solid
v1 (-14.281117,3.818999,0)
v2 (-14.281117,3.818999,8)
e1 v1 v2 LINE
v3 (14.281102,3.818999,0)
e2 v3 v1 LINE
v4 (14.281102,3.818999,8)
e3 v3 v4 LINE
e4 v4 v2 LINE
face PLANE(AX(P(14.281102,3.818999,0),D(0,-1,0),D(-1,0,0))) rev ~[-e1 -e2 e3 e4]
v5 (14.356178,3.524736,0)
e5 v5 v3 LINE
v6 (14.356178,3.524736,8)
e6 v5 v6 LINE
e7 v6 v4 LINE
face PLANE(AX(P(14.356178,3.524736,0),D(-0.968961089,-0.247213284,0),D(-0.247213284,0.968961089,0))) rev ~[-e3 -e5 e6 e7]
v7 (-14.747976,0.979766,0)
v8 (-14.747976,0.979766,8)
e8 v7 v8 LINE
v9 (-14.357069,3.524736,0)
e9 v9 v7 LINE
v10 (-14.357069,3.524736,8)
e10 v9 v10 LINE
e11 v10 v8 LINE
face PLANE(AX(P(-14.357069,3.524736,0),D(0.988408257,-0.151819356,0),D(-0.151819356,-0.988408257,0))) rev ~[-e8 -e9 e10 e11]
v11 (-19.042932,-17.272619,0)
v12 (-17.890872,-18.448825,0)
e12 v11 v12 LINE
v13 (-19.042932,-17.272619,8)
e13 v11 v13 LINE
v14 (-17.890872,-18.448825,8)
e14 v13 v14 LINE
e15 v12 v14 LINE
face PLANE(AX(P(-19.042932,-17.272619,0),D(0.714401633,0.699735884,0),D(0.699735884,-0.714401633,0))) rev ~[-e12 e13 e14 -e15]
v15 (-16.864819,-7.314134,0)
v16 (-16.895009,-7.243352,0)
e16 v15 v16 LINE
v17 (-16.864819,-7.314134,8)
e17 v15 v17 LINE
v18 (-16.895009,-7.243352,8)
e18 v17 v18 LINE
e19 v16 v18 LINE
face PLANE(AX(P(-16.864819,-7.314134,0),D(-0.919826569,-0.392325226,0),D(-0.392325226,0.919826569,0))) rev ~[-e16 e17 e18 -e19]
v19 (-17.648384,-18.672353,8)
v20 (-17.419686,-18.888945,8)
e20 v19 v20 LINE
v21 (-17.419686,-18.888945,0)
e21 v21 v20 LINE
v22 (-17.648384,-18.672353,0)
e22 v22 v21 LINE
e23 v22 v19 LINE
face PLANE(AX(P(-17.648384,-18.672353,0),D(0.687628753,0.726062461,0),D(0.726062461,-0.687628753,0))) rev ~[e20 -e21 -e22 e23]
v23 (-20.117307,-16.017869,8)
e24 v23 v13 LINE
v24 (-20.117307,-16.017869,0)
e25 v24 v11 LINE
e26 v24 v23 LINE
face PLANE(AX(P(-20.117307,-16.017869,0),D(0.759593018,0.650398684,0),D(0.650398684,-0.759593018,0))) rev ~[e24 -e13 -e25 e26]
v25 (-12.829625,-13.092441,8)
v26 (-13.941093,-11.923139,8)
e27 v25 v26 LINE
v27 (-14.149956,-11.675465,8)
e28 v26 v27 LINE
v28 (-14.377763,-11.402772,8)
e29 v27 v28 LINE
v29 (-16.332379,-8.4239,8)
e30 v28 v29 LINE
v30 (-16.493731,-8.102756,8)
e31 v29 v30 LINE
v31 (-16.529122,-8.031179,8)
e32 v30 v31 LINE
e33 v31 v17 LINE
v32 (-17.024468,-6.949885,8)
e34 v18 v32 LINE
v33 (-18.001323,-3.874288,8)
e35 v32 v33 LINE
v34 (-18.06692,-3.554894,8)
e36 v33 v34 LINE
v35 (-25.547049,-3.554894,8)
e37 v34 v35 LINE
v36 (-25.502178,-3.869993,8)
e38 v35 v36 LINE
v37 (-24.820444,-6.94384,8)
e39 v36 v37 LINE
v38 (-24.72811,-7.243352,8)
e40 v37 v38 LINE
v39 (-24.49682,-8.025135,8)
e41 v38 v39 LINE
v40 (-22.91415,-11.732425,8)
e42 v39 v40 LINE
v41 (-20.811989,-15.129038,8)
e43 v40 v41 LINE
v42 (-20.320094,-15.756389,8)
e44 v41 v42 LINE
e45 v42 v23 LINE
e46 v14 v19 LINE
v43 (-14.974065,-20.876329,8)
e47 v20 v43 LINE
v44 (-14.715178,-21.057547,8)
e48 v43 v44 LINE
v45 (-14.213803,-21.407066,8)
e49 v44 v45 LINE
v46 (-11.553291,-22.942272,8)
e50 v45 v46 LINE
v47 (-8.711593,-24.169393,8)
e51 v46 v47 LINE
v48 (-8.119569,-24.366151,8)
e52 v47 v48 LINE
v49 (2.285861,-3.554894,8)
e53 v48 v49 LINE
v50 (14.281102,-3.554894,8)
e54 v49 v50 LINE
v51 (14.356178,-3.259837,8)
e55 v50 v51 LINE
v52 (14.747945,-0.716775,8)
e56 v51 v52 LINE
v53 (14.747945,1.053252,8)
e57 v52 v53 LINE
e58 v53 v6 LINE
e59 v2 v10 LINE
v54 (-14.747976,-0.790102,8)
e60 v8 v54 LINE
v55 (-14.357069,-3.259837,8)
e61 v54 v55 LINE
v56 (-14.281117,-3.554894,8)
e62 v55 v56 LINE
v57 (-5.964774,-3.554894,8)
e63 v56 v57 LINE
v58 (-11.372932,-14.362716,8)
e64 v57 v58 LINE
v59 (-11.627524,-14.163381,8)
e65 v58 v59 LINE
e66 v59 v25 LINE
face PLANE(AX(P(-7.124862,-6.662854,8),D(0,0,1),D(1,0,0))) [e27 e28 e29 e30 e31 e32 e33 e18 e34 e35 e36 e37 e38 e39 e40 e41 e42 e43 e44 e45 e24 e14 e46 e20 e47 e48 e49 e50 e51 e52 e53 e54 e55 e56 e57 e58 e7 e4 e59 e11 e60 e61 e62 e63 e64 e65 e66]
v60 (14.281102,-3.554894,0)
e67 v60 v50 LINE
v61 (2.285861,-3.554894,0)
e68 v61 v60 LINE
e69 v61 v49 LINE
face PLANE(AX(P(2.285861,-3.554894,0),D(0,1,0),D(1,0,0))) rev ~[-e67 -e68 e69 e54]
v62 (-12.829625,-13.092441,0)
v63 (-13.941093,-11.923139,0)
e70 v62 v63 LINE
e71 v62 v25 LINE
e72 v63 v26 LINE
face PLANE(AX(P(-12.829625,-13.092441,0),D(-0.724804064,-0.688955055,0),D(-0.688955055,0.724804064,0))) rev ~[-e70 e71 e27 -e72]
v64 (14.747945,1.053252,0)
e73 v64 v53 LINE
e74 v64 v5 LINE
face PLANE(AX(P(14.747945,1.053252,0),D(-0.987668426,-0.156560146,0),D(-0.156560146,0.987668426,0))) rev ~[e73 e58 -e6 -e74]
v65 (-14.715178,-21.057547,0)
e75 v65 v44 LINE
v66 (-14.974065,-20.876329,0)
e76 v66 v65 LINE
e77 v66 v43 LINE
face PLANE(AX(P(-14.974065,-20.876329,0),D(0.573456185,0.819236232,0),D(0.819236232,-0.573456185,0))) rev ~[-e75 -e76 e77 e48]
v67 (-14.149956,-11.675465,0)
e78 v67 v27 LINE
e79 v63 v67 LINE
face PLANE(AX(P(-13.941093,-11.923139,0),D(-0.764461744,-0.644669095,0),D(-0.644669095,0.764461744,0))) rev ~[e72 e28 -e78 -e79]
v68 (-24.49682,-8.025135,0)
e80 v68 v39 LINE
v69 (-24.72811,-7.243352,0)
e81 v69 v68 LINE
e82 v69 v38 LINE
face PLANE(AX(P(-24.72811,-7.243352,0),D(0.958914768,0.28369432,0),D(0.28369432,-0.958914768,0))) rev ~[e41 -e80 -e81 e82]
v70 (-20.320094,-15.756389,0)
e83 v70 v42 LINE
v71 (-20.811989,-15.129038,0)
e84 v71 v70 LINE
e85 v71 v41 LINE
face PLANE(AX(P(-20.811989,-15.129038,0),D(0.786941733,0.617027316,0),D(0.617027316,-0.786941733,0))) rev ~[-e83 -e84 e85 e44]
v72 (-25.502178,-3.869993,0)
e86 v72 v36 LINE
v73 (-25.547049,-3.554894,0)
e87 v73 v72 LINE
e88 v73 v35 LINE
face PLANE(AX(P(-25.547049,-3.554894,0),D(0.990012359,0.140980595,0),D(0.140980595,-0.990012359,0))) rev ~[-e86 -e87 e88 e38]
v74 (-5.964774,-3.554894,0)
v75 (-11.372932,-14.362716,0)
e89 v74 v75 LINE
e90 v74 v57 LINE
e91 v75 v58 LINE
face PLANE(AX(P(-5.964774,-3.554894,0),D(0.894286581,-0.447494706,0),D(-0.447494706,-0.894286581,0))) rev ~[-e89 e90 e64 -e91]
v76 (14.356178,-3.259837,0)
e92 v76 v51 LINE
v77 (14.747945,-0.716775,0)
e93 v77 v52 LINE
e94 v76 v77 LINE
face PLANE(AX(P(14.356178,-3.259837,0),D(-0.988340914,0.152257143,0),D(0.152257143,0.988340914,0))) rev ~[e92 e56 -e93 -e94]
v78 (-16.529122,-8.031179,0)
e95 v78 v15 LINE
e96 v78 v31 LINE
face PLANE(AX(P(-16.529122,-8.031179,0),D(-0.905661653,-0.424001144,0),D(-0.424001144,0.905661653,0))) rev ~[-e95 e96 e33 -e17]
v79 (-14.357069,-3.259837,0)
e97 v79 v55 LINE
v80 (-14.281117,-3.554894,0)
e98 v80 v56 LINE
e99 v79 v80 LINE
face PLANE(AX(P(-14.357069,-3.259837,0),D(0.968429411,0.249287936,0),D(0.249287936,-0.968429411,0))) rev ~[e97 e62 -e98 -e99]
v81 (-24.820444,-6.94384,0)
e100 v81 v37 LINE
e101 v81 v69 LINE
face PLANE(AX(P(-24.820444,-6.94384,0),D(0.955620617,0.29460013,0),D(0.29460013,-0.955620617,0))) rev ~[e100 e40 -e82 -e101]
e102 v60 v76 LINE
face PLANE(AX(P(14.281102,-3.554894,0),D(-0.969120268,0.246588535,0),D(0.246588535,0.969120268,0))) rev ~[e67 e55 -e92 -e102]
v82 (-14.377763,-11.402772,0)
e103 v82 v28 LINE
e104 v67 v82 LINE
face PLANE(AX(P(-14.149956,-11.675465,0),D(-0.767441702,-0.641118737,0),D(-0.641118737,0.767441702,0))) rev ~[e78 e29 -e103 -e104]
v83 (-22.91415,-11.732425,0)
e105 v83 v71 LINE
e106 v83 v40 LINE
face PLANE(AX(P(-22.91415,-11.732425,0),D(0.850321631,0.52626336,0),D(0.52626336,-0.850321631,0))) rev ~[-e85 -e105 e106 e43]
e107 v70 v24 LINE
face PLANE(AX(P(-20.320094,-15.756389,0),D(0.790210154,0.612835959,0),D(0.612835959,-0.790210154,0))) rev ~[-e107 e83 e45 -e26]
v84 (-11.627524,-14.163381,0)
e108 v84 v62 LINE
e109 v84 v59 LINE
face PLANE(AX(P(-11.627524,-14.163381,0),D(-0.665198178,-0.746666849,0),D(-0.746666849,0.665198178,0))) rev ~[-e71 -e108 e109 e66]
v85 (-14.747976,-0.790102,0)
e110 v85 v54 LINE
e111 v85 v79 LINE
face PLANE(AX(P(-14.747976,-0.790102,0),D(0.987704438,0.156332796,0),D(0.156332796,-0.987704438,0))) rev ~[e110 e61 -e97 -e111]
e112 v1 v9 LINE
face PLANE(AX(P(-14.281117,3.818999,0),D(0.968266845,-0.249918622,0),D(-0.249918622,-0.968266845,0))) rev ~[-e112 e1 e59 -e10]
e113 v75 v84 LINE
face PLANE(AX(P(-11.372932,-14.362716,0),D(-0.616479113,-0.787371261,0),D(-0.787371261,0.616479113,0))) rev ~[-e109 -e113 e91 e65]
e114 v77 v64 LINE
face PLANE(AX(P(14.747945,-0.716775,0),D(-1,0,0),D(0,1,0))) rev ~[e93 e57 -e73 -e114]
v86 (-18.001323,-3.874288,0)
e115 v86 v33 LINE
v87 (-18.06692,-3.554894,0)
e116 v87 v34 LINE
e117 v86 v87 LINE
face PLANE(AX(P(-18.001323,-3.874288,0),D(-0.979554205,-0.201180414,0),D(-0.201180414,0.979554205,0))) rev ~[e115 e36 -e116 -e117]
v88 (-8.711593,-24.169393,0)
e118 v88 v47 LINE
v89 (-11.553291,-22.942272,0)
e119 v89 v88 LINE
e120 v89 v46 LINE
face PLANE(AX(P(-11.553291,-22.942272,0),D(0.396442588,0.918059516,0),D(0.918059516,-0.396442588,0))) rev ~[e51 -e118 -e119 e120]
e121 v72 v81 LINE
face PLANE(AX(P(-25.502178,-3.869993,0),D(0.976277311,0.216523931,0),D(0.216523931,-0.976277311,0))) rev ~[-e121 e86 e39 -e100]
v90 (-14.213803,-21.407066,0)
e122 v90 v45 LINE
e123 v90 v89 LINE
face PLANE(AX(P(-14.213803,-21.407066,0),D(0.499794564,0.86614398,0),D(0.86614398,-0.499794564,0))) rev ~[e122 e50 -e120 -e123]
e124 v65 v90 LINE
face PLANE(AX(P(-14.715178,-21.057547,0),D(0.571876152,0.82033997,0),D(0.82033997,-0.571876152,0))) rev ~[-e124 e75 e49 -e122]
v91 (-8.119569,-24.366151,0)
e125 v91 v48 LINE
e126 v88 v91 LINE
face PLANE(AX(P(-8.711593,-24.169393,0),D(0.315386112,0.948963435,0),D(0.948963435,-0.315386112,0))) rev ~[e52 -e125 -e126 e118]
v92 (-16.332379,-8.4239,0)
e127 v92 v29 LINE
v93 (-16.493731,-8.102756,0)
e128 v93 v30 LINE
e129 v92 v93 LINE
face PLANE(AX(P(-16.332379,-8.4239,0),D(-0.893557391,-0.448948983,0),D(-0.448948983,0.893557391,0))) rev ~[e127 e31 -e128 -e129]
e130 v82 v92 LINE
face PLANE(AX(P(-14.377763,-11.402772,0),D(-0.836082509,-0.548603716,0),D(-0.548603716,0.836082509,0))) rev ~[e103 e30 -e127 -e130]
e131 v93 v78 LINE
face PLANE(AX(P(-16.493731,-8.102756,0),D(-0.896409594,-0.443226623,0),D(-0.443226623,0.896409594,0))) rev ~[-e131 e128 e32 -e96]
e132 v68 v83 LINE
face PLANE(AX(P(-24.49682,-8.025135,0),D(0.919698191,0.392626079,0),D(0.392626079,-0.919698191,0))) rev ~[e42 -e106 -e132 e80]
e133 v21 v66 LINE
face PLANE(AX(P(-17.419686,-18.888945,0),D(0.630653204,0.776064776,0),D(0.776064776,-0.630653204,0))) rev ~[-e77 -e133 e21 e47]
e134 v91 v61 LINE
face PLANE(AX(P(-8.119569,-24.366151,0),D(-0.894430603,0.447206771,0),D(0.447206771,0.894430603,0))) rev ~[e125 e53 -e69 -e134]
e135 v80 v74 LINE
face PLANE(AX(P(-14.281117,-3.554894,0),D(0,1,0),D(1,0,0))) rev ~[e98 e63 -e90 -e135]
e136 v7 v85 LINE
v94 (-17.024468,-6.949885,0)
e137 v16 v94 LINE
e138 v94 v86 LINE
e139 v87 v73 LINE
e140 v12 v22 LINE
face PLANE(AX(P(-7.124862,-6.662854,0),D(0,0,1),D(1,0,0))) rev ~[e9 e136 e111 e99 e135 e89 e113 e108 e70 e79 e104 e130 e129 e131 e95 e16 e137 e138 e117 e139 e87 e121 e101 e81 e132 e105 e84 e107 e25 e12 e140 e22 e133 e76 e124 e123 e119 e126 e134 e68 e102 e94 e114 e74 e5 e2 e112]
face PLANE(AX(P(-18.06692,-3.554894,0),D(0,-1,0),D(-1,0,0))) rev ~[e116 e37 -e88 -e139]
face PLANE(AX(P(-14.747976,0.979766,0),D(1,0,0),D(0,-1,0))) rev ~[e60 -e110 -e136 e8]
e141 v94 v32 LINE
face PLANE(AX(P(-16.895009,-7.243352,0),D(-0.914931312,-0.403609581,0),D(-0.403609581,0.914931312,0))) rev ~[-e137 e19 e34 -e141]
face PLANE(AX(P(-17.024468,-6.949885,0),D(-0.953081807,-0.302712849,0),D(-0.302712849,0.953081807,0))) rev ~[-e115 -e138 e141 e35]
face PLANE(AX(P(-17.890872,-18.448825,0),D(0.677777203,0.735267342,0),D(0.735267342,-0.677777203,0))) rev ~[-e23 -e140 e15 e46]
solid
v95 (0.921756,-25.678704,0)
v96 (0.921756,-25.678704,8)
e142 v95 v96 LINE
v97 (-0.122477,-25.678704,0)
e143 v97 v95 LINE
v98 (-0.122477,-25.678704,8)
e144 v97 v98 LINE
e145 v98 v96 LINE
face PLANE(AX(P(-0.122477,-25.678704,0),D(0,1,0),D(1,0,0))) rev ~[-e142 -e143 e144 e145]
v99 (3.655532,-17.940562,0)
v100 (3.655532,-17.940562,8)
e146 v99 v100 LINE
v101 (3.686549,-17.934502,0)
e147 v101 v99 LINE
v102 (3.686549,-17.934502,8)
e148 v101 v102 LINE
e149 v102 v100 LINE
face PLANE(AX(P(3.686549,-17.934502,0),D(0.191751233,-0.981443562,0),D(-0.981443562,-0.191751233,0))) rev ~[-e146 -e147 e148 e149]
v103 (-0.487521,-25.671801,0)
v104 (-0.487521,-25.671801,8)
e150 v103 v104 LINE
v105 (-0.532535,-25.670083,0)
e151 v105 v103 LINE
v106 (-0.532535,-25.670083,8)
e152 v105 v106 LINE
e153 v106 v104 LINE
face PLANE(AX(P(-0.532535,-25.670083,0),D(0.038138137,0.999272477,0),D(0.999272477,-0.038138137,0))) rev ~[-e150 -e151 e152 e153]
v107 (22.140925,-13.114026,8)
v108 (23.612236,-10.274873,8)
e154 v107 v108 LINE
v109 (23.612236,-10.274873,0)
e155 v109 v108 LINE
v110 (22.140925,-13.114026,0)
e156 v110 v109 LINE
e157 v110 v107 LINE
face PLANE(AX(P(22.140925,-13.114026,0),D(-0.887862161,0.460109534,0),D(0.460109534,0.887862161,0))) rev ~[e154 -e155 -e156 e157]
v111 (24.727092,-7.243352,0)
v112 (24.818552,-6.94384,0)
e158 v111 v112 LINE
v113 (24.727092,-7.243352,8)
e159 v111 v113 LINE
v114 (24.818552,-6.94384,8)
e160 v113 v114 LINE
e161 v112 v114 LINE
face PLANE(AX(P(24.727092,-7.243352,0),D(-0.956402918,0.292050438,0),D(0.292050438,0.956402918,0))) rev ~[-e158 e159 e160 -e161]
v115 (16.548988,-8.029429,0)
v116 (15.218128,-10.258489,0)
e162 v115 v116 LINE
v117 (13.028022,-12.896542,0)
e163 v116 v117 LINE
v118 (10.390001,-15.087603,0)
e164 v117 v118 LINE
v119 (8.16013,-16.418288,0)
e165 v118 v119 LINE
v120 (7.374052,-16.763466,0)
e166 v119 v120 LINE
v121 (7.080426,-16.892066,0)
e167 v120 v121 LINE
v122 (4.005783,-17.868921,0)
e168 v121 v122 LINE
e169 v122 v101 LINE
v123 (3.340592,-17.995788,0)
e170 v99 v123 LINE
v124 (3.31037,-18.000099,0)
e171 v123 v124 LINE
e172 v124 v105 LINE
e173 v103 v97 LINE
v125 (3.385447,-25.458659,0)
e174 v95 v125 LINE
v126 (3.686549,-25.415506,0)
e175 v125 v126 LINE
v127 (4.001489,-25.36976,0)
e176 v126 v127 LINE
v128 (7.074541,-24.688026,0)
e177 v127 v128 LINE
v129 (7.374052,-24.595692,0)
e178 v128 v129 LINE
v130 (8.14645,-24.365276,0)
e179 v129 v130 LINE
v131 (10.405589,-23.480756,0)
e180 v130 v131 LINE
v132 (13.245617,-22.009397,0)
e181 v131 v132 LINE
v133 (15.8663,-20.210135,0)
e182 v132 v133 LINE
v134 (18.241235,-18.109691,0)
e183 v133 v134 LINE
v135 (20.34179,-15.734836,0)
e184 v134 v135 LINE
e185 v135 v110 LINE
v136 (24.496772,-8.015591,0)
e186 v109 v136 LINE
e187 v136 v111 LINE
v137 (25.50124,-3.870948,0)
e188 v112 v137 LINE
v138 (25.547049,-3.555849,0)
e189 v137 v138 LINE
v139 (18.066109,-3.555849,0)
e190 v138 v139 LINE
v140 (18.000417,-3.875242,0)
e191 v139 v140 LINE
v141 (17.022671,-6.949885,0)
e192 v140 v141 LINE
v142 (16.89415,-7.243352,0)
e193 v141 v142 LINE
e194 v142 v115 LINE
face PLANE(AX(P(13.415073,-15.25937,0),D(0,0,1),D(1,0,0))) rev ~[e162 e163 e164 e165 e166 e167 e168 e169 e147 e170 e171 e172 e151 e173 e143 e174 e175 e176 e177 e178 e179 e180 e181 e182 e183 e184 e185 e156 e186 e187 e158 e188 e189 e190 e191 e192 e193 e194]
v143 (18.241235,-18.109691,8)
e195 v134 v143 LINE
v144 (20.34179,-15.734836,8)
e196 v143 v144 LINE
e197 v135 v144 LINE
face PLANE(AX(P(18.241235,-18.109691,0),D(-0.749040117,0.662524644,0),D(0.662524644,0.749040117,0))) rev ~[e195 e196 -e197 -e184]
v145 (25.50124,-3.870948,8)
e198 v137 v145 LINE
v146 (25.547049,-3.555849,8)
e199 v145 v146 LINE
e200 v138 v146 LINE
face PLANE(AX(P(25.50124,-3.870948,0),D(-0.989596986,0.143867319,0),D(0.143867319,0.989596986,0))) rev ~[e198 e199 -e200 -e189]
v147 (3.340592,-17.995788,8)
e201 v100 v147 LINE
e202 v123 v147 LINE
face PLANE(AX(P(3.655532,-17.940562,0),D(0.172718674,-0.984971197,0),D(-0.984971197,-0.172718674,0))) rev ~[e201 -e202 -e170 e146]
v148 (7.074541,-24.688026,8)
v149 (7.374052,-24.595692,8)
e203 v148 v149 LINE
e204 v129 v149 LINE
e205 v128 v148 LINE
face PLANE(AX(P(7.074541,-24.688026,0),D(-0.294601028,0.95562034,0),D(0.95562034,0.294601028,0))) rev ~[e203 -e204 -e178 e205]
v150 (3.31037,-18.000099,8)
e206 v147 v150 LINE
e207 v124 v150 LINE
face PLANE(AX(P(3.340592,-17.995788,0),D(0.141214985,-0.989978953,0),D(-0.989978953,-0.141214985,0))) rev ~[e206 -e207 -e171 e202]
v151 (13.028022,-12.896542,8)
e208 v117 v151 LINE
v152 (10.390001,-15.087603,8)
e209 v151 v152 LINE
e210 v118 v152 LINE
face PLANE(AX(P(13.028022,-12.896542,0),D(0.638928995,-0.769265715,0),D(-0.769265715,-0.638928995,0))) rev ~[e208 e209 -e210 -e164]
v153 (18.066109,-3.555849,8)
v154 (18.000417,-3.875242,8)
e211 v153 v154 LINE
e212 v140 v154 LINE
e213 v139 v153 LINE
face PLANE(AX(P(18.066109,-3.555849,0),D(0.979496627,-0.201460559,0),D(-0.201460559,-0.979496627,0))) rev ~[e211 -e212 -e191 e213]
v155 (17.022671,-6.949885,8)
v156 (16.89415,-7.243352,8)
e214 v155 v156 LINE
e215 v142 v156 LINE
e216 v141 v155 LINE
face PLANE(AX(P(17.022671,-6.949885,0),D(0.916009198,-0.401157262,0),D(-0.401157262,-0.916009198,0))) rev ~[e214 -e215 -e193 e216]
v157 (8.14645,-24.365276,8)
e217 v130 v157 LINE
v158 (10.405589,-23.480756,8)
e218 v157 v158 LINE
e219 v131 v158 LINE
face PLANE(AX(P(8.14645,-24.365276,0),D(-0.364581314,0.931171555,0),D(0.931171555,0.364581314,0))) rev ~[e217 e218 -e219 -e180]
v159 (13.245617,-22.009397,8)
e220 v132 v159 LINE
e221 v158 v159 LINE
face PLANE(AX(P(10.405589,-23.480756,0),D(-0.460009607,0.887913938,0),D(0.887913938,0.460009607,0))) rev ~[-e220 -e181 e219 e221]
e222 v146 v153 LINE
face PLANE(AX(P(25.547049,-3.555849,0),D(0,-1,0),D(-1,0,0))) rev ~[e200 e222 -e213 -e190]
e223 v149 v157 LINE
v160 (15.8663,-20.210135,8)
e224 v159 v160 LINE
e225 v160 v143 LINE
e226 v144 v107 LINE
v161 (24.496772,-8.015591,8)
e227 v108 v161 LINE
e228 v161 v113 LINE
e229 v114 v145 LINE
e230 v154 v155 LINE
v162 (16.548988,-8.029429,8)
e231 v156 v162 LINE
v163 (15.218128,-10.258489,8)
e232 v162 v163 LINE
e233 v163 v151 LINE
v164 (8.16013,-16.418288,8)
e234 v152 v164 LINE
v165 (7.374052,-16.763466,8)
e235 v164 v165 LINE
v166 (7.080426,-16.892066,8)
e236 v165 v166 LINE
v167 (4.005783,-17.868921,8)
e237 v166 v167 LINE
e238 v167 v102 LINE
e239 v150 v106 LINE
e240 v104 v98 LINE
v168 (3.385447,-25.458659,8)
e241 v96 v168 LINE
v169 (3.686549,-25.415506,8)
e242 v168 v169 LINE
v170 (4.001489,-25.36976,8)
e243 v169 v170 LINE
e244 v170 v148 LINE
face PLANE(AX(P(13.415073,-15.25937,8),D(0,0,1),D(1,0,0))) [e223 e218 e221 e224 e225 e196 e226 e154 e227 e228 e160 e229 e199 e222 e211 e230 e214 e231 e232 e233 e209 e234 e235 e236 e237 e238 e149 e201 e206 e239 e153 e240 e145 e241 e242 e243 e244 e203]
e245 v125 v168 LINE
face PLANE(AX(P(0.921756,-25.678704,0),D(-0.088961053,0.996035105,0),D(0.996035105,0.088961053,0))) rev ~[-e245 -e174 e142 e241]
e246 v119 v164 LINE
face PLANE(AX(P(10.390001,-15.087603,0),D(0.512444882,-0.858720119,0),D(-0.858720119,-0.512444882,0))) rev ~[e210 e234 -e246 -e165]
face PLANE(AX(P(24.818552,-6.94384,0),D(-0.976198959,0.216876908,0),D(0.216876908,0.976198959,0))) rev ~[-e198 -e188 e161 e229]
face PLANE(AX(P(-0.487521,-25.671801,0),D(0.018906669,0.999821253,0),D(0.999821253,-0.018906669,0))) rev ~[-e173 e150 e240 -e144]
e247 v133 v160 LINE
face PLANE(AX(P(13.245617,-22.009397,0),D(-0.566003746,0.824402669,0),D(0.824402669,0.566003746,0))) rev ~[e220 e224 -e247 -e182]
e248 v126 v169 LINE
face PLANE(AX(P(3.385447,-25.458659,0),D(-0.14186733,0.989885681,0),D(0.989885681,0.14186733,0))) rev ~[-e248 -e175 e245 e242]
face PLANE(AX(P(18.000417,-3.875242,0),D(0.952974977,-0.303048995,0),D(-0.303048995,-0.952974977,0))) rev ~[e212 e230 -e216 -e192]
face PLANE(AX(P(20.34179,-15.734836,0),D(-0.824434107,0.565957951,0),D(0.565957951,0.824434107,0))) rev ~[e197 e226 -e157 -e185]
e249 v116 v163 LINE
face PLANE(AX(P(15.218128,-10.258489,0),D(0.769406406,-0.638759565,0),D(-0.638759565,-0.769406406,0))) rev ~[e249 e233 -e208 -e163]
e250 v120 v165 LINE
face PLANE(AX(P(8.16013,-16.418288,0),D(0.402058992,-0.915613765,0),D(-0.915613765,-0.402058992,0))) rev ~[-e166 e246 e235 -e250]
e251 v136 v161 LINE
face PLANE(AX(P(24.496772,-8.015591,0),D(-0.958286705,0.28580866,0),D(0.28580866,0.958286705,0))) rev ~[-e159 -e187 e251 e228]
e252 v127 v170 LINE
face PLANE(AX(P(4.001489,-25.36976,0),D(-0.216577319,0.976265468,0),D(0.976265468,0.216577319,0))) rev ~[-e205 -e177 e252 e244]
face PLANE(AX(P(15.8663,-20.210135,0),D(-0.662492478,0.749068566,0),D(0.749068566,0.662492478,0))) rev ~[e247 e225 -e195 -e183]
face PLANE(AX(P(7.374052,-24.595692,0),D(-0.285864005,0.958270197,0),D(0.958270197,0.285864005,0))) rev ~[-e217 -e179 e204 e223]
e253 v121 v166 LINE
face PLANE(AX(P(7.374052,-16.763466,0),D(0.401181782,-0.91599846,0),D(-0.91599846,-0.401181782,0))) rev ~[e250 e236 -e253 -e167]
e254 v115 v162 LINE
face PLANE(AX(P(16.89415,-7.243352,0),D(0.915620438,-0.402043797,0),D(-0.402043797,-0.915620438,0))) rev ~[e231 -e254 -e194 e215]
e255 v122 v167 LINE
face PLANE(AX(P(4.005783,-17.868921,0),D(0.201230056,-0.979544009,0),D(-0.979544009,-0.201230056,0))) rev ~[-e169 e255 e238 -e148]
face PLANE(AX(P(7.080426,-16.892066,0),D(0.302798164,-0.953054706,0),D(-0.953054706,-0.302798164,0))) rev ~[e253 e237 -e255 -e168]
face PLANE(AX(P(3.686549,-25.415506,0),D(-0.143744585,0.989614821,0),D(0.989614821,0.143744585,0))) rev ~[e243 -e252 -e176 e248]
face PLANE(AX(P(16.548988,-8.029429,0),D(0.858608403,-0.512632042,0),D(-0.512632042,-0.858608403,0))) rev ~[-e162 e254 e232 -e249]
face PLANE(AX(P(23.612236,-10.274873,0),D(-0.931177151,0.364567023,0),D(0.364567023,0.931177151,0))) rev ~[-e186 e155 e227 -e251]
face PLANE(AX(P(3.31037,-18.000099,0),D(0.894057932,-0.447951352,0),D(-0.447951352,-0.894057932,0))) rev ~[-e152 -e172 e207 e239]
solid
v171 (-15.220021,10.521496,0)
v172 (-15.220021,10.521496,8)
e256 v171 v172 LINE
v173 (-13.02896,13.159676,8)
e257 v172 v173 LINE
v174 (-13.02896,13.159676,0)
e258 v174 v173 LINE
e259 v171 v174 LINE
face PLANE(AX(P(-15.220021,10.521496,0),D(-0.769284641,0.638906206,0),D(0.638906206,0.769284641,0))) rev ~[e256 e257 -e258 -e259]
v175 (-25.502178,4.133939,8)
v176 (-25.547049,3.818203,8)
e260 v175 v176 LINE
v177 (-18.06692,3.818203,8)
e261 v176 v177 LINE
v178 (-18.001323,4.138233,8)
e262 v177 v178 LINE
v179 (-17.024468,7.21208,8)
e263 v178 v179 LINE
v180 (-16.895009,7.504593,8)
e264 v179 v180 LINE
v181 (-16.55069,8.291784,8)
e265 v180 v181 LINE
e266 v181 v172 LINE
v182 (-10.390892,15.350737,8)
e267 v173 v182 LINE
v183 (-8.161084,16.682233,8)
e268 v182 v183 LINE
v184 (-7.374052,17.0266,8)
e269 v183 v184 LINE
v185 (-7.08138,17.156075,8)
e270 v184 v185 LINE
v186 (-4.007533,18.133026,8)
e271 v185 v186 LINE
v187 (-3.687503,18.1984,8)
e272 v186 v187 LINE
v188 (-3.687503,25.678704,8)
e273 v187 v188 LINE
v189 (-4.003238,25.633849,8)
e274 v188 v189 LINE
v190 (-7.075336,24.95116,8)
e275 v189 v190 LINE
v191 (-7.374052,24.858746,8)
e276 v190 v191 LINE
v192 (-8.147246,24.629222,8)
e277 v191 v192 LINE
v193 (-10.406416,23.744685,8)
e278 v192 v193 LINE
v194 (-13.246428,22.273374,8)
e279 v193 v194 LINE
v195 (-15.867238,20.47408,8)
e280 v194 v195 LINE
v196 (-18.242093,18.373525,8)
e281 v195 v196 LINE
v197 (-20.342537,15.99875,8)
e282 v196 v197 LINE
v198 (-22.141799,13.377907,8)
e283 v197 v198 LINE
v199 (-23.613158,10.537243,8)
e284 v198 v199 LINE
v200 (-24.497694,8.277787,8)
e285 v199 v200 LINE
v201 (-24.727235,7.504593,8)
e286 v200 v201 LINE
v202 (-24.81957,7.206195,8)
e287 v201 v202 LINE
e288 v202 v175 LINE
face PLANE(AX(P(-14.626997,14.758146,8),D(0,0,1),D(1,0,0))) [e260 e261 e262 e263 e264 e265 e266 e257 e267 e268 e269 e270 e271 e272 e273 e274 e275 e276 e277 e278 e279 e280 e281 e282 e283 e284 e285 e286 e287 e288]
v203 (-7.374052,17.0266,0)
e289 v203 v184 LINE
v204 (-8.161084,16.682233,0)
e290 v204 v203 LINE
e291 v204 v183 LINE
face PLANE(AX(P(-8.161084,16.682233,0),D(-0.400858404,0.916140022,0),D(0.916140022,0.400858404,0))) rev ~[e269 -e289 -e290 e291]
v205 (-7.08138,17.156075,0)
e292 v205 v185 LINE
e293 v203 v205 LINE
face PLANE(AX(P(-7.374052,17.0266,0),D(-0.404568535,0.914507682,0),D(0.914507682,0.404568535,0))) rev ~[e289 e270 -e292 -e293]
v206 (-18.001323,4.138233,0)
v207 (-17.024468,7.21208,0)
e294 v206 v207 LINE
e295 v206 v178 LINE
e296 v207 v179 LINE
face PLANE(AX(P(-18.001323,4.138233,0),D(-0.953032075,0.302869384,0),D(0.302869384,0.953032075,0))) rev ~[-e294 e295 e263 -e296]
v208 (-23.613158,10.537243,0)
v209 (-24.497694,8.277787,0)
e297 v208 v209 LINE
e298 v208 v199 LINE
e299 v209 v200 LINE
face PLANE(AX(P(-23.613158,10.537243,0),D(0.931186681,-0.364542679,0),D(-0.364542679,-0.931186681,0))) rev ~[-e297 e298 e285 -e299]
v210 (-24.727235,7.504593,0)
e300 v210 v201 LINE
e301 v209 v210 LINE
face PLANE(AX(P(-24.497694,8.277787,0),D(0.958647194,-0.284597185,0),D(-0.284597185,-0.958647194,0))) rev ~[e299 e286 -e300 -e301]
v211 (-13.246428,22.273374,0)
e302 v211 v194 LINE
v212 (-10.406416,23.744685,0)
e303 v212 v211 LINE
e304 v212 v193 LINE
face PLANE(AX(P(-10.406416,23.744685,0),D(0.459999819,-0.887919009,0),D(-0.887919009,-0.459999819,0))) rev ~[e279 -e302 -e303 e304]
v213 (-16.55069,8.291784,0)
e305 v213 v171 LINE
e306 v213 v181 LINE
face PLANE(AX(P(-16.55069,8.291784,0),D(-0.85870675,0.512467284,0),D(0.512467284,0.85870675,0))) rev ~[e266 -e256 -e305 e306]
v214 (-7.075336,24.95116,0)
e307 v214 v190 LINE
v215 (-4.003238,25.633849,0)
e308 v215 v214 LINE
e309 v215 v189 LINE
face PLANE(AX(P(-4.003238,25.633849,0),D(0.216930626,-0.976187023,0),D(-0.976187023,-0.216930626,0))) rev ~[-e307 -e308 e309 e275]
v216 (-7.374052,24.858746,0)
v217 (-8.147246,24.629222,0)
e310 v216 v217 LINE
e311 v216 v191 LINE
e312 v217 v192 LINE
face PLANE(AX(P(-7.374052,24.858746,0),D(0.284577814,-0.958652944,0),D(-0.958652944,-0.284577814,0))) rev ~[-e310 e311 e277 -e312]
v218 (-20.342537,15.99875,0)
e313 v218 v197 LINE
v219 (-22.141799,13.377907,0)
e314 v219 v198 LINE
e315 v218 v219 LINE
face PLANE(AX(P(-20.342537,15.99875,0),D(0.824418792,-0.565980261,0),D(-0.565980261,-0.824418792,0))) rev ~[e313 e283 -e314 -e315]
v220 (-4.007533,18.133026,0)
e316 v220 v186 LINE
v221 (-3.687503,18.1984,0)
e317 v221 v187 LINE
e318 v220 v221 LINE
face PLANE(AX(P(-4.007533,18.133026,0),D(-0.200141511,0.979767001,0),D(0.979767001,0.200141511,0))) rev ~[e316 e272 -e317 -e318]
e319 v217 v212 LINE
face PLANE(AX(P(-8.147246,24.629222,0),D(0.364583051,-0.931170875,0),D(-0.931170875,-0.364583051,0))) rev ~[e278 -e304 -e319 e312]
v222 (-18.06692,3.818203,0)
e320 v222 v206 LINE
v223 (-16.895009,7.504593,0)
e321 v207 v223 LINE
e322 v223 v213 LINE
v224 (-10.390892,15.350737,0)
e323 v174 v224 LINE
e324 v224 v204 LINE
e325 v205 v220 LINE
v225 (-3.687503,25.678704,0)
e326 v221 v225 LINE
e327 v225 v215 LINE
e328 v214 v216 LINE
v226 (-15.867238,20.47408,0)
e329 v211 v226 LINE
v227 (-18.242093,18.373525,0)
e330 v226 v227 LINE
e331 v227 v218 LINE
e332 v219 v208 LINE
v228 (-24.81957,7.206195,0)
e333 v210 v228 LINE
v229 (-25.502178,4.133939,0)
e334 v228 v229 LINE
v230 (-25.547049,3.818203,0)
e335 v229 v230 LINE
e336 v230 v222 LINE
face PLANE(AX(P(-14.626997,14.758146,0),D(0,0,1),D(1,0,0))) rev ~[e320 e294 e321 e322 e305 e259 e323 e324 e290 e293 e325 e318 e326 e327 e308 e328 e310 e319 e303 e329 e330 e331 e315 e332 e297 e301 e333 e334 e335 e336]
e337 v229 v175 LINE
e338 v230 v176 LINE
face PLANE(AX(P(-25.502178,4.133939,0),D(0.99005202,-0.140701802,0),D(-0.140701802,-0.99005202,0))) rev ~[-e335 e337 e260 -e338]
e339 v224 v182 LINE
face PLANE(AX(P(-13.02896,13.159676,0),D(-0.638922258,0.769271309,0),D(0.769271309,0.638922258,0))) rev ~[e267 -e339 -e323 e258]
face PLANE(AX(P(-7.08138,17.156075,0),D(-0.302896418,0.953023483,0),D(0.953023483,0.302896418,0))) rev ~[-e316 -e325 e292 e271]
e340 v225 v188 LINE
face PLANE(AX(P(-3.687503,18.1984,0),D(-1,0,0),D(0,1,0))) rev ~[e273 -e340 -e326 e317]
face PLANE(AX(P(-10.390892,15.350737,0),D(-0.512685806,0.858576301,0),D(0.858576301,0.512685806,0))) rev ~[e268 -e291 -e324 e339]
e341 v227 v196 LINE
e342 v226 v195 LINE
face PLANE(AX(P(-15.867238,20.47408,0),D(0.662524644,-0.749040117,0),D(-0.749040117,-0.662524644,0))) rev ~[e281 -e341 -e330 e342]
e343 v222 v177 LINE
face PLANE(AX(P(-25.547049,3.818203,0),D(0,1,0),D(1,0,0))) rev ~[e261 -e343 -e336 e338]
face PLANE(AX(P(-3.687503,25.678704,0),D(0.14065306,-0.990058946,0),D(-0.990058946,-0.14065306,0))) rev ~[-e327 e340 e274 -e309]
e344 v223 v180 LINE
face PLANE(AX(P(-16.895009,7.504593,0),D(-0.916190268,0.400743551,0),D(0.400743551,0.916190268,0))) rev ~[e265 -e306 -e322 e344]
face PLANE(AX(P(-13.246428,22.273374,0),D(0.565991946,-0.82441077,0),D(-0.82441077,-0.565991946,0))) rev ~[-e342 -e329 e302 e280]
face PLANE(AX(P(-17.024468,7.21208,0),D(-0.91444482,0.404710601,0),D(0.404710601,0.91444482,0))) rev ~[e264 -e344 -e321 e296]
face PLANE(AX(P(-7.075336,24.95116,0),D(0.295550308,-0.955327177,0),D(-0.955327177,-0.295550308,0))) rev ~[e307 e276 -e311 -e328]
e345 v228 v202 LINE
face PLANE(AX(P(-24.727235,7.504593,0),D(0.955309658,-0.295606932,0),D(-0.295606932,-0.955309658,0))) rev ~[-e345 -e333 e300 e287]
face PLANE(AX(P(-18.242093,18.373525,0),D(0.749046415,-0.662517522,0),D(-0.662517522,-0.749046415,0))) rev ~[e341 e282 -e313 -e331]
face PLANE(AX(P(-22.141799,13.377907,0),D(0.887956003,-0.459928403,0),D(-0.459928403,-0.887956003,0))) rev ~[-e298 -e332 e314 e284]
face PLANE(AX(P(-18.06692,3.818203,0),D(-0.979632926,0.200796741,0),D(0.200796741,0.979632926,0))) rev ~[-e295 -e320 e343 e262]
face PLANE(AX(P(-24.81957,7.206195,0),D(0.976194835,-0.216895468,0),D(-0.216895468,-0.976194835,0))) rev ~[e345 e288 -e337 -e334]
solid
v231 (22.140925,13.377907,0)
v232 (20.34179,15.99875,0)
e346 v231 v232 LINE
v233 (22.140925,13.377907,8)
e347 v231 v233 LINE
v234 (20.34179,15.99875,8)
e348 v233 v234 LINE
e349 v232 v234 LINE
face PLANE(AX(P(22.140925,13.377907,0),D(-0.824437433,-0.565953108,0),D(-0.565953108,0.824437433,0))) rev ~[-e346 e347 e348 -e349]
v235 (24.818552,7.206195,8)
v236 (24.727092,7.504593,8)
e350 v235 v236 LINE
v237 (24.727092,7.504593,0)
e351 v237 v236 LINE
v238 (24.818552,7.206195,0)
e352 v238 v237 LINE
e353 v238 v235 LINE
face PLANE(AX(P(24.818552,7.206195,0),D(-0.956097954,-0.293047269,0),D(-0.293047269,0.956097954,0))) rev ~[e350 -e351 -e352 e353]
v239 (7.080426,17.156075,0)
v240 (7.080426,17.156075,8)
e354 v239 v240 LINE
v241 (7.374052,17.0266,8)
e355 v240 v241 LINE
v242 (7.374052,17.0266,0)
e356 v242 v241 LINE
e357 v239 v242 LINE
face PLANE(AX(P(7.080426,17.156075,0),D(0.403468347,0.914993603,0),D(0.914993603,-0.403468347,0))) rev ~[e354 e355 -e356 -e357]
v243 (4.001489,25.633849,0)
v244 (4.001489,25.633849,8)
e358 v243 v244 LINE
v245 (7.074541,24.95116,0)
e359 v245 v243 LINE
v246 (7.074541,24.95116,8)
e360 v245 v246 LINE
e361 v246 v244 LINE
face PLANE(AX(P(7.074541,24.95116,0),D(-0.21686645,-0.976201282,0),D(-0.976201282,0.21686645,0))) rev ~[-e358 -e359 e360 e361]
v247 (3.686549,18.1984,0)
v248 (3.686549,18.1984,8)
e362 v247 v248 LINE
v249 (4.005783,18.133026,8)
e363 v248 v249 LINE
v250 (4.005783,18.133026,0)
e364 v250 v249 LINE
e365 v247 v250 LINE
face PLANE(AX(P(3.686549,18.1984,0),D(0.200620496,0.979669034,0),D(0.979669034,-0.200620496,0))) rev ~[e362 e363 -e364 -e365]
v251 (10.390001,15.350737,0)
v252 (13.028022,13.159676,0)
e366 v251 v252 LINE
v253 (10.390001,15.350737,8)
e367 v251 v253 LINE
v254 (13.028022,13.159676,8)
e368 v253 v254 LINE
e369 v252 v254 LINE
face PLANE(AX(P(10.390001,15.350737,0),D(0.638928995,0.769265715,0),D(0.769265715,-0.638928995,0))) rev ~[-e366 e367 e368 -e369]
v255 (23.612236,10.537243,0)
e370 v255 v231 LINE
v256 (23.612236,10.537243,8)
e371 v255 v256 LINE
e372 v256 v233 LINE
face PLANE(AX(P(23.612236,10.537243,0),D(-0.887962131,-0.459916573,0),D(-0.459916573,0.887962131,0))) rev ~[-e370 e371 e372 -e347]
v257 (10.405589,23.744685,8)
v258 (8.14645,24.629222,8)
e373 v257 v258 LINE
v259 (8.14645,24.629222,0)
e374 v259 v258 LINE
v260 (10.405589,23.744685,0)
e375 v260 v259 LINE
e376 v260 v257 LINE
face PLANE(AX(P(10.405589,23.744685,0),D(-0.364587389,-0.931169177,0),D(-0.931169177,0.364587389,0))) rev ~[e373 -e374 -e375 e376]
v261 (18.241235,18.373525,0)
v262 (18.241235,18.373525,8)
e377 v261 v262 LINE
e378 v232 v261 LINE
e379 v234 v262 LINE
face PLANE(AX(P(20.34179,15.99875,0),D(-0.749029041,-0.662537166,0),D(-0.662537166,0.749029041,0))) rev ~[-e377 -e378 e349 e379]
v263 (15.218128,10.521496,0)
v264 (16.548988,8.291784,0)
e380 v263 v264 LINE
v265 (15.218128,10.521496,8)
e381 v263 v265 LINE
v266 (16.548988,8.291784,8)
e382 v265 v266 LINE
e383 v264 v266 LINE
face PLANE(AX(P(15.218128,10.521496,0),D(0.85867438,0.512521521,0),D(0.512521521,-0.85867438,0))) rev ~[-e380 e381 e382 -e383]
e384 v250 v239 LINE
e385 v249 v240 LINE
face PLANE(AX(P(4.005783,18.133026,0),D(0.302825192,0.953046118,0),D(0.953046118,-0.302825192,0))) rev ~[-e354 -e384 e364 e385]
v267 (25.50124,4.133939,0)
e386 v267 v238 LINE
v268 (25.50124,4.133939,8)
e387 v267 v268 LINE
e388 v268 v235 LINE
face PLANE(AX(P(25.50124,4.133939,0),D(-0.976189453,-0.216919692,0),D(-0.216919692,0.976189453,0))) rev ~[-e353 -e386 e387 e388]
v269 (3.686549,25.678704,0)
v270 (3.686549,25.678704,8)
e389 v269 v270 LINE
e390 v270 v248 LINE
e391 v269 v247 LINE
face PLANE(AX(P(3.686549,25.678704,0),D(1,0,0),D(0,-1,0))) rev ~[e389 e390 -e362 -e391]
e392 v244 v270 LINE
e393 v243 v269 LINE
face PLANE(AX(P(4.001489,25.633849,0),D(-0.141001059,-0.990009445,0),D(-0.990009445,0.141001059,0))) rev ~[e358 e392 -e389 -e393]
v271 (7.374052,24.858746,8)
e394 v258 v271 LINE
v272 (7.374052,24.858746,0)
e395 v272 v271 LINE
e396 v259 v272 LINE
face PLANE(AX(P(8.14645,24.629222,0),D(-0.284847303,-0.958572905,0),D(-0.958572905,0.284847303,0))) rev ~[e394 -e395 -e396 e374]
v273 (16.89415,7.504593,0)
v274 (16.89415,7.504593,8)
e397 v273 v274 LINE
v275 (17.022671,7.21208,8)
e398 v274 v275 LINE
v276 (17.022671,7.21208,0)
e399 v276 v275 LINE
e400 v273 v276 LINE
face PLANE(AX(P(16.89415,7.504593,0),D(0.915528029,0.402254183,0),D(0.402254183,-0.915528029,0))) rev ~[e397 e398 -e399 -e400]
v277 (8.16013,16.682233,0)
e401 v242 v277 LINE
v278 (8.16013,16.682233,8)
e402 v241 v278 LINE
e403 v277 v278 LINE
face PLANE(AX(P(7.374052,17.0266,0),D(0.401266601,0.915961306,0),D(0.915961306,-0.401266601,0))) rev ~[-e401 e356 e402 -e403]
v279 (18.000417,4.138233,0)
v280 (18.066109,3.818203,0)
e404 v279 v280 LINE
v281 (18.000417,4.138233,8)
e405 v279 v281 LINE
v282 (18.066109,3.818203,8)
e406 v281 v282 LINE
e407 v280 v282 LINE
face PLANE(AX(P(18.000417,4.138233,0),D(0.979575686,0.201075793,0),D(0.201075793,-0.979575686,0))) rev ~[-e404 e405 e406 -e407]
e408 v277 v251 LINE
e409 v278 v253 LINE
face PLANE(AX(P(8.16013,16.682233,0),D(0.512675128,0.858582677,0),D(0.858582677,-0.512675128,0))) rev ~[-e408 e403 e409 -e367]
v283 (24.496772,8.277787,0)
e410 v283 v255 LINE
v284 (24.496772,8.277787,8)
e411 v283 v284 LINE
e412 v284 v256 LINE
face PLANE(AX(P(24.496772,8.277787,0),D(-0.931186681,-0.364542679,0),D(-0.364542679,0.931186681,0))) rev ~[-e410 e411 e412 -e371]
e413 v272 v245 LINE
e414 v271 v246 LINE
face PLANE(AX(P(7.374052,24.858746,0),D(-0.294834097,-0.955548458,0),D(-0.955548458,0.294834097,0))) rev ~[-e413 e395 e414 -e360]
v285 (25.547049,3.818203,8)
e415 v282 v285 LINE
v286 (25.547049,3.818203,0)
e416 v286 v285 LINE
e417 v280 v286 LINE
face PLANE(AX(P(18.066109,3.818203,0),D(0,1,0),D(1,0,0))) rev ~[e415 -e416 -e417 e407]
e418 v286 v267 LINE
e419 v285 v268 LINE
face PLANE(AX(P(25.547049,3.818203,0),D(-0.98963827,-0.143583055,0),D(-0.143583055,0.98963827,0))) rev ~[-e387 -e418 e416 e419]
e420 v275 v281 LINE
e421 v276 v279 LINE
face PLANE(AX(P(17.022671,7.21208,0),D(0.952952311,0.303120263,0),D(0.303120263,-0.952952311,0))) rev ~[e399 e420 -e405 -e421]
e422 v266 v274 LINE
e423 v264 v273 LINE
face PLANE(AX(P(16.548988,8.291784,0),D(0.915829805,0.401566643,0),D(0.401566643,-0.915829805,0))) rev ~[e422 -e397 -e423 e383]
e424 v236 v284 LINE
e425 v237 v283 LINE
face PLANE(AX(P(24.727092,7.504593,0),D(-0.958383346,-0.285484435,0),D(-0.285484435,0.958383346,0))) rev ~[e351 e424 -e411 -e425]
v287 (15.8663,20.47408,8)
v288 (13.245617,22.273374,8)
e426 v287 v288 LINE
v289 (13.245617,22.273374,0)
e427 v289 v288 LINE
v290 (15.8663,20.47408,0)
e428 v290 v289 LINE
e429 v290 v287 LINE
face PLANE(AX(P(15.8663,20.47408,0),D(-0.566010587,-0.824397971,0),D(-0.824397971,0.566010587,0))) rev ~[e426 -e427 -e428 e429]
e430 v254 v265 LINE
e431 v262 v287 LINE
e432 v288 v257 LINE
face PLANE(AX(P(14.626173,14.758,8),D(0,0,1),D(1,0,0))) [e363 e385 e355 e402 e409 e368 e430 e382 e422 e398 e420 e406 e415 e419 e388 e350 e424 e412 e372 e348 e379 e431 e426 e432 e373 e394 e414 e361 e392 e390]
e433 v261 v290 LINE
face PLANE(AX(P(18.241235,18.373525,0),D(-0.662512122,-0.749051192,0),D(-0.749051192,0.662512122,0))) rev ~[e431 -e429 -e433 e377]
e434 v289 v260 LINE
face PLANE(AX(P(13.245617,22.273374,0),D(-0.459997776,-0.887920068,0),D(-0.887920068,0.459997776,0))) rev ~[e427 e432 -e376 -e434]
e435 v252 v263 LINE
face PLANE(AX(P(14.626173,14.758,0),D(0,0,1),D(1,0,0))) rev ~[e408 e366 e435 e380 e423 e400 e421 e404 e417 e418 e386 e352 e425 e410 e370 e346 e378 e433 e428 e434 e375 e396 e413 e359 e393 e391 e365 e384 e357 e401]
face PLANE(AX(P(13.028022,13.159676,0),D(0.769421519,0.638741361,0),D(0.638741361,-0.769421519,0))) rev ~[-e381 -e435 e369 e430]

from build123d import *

# Parameters (mm, degrees)
F1_DEPTH = 8


with BuildPart() as f1:
    # F0 (on Top) → F1 (new body)
    with BuildSketch(Plane.XY):
        Polygon((-17.024468, 7.21208), (-16.895009, 7.504593), (-16.55069, 8.291784), (-15.220021, 10.521496), (-13.02896, 13.159676), (-10.390892, 15.350737), (-8.161084, 16.682233), (-7.374052, 17.0266), (-7.08138, 17.156075), (-4.007533, 18.133026), (-3.687503, 18.1984), (-3.687503, 25.678704), (-4.003238, 25.633849), (-7.075336, 24.95116), (-7.374052, 24.858746), (-8.147246, 24.629222), (-10.406416, 23.744685), (-13.246428, 22.273374), (-15.867238, 20.47408), (-18.242093, 18.373525), (-20.342537, 15.99875), (-22.141799, 13.377907), (-23.613158, 10.537243), (-24.497694, 8.277787), (-24.727235, 7.504593), (-24.81957, 7.206195), (-25.502178, 4.133939), (-25.547049, 3.818203), (-18.06692, 3.818203), (-18.001323, 4.138233), align=None)
        Polygon((-8.119569, -24.366151), (2.285861, -3.554894), (14.281102, -3.554894), (14.356178, -3.259837), (14.747945, -0.716775), (14.747945, 0.1307), (14.747945, 1.053252), (14.356178, 3.524736), (14.281102, 3.818999), (-14.281117, 3.818999), (-14.357069, 3.524736), (-14.747976, 0.979766), (-14.747976, 0.1307), (-14.747976, -0.790102), (-14.357069, -3.259837), (-14.281117, -3.554894), (-5.964774, -3.554894), (-11.372932, -14.362716), (-11.627524, -14.163381), (-12.829625, -13.092441), (-13.941093, -11.923139), (-14.149956, -11.675465), (-14.377763, -11.402772), (-16.332379, -8.4239), (-16.493731, -8.102756), (-16.529122, -8.031179), (-16.864819, -7.314134), (-16.895009, -7.243352), (-17.024468, -6.949885), (-18.001323, -3.874288), (-18.06692, -3.554894), (-25.547049, -3.554894), (-25.502178, -3.869993), (-24.820444, -6.94384), (-24.72811, -7.243352), (-24.49682, -8.025135), (-22.91415, -11.732425), (-20.811989, -15.129038), (-20.320094, -15.756389), (-20.117307, -16.017869), (-19.042932, -17.272619), (-17.890872, -18.448825), (-17.648384, -18.672353), (-17.419686, -18.888945), (-14.974065, -20.876329), (-14.715178, -21.057547), (-14.213803, -21.407066), (-11.553291, -22.942272), (-8.711593, -24.169393), align=None)
        Polygon((16.548988, 8.291784), (16.89415, 7.504593), (17.022671, 7.21208), (18.000417, 4.138233), (18.066109, 3.818203), (25.547049, 3.818203), (25.50124, 4.133939), (24.818552, 7.206195), (24.727092, 7.504593), (24.496772, 8.277787), (23.612236, 10.537243), (22.140925, 13.377907), (20.34179, 15.99875), (18.241235, 18.373525), (15.8663, 20.47408), (13.245617, 22.273374), (10.405589, 23.744685), (8.14645, 24.629222), (7.374052, 24.858746), (7.074541, 24.95116), (4.001489, 25.633849), (3.686549, 25.678704), (3.686549, 18.1984), (4.005783, 18.133026), (7.080426, 17.156075), (7.374052, 17.0266), (8.16013, 16.682233), (10.390001, 15.350737), (13.028022, 13.159676), (15.218128, 10.521496), align=None)
        Polygon((17.022671, -6.949885), (16.89415, -7.243352), (16.548988, -8.029429), (15.218128, -10.258489), (13.028022, -12.896542), (10.390001, -15.087603), (8.16013, -16.418288), (7.374052, -16.763466), (7.080426, -16.892066), (4.005783, -17.868921), (3.686549, -17.934502), (3.655532, -17.940562), (3.340592, -17.995788), (3.31037, -18.000099), (-0.532535, -25.670083), (-0.487521, -25.671801), (-0.122477, -25.678704), (0, -25.678704), (0.921756, -25.678704), (3.385447, -25.458659), (3.686549, -25.415506), (4.001489, -25.36976), (7.074541, -24.688026), (7.374052, -24.595692), (8.14645, -24.365276), (10.405589, -23.480756), (13.245617, -22.009397), (15.8663, -20.210135), (18.241235, -18.109691), (20.34179, -15.734836), (22.140925, -13.114026), (23.612236, -10.274873), (24.496772, -8.015591), (24.727092, -7.243352), (24.818552, -6.94384), (25.50124, -3.870948), (25.547049, -3.555849), (18.066109, -3.555849), (18.000417, -3.875242), align=None)
    extrude(amount=F1_DEPTH)


solid = f1.part
